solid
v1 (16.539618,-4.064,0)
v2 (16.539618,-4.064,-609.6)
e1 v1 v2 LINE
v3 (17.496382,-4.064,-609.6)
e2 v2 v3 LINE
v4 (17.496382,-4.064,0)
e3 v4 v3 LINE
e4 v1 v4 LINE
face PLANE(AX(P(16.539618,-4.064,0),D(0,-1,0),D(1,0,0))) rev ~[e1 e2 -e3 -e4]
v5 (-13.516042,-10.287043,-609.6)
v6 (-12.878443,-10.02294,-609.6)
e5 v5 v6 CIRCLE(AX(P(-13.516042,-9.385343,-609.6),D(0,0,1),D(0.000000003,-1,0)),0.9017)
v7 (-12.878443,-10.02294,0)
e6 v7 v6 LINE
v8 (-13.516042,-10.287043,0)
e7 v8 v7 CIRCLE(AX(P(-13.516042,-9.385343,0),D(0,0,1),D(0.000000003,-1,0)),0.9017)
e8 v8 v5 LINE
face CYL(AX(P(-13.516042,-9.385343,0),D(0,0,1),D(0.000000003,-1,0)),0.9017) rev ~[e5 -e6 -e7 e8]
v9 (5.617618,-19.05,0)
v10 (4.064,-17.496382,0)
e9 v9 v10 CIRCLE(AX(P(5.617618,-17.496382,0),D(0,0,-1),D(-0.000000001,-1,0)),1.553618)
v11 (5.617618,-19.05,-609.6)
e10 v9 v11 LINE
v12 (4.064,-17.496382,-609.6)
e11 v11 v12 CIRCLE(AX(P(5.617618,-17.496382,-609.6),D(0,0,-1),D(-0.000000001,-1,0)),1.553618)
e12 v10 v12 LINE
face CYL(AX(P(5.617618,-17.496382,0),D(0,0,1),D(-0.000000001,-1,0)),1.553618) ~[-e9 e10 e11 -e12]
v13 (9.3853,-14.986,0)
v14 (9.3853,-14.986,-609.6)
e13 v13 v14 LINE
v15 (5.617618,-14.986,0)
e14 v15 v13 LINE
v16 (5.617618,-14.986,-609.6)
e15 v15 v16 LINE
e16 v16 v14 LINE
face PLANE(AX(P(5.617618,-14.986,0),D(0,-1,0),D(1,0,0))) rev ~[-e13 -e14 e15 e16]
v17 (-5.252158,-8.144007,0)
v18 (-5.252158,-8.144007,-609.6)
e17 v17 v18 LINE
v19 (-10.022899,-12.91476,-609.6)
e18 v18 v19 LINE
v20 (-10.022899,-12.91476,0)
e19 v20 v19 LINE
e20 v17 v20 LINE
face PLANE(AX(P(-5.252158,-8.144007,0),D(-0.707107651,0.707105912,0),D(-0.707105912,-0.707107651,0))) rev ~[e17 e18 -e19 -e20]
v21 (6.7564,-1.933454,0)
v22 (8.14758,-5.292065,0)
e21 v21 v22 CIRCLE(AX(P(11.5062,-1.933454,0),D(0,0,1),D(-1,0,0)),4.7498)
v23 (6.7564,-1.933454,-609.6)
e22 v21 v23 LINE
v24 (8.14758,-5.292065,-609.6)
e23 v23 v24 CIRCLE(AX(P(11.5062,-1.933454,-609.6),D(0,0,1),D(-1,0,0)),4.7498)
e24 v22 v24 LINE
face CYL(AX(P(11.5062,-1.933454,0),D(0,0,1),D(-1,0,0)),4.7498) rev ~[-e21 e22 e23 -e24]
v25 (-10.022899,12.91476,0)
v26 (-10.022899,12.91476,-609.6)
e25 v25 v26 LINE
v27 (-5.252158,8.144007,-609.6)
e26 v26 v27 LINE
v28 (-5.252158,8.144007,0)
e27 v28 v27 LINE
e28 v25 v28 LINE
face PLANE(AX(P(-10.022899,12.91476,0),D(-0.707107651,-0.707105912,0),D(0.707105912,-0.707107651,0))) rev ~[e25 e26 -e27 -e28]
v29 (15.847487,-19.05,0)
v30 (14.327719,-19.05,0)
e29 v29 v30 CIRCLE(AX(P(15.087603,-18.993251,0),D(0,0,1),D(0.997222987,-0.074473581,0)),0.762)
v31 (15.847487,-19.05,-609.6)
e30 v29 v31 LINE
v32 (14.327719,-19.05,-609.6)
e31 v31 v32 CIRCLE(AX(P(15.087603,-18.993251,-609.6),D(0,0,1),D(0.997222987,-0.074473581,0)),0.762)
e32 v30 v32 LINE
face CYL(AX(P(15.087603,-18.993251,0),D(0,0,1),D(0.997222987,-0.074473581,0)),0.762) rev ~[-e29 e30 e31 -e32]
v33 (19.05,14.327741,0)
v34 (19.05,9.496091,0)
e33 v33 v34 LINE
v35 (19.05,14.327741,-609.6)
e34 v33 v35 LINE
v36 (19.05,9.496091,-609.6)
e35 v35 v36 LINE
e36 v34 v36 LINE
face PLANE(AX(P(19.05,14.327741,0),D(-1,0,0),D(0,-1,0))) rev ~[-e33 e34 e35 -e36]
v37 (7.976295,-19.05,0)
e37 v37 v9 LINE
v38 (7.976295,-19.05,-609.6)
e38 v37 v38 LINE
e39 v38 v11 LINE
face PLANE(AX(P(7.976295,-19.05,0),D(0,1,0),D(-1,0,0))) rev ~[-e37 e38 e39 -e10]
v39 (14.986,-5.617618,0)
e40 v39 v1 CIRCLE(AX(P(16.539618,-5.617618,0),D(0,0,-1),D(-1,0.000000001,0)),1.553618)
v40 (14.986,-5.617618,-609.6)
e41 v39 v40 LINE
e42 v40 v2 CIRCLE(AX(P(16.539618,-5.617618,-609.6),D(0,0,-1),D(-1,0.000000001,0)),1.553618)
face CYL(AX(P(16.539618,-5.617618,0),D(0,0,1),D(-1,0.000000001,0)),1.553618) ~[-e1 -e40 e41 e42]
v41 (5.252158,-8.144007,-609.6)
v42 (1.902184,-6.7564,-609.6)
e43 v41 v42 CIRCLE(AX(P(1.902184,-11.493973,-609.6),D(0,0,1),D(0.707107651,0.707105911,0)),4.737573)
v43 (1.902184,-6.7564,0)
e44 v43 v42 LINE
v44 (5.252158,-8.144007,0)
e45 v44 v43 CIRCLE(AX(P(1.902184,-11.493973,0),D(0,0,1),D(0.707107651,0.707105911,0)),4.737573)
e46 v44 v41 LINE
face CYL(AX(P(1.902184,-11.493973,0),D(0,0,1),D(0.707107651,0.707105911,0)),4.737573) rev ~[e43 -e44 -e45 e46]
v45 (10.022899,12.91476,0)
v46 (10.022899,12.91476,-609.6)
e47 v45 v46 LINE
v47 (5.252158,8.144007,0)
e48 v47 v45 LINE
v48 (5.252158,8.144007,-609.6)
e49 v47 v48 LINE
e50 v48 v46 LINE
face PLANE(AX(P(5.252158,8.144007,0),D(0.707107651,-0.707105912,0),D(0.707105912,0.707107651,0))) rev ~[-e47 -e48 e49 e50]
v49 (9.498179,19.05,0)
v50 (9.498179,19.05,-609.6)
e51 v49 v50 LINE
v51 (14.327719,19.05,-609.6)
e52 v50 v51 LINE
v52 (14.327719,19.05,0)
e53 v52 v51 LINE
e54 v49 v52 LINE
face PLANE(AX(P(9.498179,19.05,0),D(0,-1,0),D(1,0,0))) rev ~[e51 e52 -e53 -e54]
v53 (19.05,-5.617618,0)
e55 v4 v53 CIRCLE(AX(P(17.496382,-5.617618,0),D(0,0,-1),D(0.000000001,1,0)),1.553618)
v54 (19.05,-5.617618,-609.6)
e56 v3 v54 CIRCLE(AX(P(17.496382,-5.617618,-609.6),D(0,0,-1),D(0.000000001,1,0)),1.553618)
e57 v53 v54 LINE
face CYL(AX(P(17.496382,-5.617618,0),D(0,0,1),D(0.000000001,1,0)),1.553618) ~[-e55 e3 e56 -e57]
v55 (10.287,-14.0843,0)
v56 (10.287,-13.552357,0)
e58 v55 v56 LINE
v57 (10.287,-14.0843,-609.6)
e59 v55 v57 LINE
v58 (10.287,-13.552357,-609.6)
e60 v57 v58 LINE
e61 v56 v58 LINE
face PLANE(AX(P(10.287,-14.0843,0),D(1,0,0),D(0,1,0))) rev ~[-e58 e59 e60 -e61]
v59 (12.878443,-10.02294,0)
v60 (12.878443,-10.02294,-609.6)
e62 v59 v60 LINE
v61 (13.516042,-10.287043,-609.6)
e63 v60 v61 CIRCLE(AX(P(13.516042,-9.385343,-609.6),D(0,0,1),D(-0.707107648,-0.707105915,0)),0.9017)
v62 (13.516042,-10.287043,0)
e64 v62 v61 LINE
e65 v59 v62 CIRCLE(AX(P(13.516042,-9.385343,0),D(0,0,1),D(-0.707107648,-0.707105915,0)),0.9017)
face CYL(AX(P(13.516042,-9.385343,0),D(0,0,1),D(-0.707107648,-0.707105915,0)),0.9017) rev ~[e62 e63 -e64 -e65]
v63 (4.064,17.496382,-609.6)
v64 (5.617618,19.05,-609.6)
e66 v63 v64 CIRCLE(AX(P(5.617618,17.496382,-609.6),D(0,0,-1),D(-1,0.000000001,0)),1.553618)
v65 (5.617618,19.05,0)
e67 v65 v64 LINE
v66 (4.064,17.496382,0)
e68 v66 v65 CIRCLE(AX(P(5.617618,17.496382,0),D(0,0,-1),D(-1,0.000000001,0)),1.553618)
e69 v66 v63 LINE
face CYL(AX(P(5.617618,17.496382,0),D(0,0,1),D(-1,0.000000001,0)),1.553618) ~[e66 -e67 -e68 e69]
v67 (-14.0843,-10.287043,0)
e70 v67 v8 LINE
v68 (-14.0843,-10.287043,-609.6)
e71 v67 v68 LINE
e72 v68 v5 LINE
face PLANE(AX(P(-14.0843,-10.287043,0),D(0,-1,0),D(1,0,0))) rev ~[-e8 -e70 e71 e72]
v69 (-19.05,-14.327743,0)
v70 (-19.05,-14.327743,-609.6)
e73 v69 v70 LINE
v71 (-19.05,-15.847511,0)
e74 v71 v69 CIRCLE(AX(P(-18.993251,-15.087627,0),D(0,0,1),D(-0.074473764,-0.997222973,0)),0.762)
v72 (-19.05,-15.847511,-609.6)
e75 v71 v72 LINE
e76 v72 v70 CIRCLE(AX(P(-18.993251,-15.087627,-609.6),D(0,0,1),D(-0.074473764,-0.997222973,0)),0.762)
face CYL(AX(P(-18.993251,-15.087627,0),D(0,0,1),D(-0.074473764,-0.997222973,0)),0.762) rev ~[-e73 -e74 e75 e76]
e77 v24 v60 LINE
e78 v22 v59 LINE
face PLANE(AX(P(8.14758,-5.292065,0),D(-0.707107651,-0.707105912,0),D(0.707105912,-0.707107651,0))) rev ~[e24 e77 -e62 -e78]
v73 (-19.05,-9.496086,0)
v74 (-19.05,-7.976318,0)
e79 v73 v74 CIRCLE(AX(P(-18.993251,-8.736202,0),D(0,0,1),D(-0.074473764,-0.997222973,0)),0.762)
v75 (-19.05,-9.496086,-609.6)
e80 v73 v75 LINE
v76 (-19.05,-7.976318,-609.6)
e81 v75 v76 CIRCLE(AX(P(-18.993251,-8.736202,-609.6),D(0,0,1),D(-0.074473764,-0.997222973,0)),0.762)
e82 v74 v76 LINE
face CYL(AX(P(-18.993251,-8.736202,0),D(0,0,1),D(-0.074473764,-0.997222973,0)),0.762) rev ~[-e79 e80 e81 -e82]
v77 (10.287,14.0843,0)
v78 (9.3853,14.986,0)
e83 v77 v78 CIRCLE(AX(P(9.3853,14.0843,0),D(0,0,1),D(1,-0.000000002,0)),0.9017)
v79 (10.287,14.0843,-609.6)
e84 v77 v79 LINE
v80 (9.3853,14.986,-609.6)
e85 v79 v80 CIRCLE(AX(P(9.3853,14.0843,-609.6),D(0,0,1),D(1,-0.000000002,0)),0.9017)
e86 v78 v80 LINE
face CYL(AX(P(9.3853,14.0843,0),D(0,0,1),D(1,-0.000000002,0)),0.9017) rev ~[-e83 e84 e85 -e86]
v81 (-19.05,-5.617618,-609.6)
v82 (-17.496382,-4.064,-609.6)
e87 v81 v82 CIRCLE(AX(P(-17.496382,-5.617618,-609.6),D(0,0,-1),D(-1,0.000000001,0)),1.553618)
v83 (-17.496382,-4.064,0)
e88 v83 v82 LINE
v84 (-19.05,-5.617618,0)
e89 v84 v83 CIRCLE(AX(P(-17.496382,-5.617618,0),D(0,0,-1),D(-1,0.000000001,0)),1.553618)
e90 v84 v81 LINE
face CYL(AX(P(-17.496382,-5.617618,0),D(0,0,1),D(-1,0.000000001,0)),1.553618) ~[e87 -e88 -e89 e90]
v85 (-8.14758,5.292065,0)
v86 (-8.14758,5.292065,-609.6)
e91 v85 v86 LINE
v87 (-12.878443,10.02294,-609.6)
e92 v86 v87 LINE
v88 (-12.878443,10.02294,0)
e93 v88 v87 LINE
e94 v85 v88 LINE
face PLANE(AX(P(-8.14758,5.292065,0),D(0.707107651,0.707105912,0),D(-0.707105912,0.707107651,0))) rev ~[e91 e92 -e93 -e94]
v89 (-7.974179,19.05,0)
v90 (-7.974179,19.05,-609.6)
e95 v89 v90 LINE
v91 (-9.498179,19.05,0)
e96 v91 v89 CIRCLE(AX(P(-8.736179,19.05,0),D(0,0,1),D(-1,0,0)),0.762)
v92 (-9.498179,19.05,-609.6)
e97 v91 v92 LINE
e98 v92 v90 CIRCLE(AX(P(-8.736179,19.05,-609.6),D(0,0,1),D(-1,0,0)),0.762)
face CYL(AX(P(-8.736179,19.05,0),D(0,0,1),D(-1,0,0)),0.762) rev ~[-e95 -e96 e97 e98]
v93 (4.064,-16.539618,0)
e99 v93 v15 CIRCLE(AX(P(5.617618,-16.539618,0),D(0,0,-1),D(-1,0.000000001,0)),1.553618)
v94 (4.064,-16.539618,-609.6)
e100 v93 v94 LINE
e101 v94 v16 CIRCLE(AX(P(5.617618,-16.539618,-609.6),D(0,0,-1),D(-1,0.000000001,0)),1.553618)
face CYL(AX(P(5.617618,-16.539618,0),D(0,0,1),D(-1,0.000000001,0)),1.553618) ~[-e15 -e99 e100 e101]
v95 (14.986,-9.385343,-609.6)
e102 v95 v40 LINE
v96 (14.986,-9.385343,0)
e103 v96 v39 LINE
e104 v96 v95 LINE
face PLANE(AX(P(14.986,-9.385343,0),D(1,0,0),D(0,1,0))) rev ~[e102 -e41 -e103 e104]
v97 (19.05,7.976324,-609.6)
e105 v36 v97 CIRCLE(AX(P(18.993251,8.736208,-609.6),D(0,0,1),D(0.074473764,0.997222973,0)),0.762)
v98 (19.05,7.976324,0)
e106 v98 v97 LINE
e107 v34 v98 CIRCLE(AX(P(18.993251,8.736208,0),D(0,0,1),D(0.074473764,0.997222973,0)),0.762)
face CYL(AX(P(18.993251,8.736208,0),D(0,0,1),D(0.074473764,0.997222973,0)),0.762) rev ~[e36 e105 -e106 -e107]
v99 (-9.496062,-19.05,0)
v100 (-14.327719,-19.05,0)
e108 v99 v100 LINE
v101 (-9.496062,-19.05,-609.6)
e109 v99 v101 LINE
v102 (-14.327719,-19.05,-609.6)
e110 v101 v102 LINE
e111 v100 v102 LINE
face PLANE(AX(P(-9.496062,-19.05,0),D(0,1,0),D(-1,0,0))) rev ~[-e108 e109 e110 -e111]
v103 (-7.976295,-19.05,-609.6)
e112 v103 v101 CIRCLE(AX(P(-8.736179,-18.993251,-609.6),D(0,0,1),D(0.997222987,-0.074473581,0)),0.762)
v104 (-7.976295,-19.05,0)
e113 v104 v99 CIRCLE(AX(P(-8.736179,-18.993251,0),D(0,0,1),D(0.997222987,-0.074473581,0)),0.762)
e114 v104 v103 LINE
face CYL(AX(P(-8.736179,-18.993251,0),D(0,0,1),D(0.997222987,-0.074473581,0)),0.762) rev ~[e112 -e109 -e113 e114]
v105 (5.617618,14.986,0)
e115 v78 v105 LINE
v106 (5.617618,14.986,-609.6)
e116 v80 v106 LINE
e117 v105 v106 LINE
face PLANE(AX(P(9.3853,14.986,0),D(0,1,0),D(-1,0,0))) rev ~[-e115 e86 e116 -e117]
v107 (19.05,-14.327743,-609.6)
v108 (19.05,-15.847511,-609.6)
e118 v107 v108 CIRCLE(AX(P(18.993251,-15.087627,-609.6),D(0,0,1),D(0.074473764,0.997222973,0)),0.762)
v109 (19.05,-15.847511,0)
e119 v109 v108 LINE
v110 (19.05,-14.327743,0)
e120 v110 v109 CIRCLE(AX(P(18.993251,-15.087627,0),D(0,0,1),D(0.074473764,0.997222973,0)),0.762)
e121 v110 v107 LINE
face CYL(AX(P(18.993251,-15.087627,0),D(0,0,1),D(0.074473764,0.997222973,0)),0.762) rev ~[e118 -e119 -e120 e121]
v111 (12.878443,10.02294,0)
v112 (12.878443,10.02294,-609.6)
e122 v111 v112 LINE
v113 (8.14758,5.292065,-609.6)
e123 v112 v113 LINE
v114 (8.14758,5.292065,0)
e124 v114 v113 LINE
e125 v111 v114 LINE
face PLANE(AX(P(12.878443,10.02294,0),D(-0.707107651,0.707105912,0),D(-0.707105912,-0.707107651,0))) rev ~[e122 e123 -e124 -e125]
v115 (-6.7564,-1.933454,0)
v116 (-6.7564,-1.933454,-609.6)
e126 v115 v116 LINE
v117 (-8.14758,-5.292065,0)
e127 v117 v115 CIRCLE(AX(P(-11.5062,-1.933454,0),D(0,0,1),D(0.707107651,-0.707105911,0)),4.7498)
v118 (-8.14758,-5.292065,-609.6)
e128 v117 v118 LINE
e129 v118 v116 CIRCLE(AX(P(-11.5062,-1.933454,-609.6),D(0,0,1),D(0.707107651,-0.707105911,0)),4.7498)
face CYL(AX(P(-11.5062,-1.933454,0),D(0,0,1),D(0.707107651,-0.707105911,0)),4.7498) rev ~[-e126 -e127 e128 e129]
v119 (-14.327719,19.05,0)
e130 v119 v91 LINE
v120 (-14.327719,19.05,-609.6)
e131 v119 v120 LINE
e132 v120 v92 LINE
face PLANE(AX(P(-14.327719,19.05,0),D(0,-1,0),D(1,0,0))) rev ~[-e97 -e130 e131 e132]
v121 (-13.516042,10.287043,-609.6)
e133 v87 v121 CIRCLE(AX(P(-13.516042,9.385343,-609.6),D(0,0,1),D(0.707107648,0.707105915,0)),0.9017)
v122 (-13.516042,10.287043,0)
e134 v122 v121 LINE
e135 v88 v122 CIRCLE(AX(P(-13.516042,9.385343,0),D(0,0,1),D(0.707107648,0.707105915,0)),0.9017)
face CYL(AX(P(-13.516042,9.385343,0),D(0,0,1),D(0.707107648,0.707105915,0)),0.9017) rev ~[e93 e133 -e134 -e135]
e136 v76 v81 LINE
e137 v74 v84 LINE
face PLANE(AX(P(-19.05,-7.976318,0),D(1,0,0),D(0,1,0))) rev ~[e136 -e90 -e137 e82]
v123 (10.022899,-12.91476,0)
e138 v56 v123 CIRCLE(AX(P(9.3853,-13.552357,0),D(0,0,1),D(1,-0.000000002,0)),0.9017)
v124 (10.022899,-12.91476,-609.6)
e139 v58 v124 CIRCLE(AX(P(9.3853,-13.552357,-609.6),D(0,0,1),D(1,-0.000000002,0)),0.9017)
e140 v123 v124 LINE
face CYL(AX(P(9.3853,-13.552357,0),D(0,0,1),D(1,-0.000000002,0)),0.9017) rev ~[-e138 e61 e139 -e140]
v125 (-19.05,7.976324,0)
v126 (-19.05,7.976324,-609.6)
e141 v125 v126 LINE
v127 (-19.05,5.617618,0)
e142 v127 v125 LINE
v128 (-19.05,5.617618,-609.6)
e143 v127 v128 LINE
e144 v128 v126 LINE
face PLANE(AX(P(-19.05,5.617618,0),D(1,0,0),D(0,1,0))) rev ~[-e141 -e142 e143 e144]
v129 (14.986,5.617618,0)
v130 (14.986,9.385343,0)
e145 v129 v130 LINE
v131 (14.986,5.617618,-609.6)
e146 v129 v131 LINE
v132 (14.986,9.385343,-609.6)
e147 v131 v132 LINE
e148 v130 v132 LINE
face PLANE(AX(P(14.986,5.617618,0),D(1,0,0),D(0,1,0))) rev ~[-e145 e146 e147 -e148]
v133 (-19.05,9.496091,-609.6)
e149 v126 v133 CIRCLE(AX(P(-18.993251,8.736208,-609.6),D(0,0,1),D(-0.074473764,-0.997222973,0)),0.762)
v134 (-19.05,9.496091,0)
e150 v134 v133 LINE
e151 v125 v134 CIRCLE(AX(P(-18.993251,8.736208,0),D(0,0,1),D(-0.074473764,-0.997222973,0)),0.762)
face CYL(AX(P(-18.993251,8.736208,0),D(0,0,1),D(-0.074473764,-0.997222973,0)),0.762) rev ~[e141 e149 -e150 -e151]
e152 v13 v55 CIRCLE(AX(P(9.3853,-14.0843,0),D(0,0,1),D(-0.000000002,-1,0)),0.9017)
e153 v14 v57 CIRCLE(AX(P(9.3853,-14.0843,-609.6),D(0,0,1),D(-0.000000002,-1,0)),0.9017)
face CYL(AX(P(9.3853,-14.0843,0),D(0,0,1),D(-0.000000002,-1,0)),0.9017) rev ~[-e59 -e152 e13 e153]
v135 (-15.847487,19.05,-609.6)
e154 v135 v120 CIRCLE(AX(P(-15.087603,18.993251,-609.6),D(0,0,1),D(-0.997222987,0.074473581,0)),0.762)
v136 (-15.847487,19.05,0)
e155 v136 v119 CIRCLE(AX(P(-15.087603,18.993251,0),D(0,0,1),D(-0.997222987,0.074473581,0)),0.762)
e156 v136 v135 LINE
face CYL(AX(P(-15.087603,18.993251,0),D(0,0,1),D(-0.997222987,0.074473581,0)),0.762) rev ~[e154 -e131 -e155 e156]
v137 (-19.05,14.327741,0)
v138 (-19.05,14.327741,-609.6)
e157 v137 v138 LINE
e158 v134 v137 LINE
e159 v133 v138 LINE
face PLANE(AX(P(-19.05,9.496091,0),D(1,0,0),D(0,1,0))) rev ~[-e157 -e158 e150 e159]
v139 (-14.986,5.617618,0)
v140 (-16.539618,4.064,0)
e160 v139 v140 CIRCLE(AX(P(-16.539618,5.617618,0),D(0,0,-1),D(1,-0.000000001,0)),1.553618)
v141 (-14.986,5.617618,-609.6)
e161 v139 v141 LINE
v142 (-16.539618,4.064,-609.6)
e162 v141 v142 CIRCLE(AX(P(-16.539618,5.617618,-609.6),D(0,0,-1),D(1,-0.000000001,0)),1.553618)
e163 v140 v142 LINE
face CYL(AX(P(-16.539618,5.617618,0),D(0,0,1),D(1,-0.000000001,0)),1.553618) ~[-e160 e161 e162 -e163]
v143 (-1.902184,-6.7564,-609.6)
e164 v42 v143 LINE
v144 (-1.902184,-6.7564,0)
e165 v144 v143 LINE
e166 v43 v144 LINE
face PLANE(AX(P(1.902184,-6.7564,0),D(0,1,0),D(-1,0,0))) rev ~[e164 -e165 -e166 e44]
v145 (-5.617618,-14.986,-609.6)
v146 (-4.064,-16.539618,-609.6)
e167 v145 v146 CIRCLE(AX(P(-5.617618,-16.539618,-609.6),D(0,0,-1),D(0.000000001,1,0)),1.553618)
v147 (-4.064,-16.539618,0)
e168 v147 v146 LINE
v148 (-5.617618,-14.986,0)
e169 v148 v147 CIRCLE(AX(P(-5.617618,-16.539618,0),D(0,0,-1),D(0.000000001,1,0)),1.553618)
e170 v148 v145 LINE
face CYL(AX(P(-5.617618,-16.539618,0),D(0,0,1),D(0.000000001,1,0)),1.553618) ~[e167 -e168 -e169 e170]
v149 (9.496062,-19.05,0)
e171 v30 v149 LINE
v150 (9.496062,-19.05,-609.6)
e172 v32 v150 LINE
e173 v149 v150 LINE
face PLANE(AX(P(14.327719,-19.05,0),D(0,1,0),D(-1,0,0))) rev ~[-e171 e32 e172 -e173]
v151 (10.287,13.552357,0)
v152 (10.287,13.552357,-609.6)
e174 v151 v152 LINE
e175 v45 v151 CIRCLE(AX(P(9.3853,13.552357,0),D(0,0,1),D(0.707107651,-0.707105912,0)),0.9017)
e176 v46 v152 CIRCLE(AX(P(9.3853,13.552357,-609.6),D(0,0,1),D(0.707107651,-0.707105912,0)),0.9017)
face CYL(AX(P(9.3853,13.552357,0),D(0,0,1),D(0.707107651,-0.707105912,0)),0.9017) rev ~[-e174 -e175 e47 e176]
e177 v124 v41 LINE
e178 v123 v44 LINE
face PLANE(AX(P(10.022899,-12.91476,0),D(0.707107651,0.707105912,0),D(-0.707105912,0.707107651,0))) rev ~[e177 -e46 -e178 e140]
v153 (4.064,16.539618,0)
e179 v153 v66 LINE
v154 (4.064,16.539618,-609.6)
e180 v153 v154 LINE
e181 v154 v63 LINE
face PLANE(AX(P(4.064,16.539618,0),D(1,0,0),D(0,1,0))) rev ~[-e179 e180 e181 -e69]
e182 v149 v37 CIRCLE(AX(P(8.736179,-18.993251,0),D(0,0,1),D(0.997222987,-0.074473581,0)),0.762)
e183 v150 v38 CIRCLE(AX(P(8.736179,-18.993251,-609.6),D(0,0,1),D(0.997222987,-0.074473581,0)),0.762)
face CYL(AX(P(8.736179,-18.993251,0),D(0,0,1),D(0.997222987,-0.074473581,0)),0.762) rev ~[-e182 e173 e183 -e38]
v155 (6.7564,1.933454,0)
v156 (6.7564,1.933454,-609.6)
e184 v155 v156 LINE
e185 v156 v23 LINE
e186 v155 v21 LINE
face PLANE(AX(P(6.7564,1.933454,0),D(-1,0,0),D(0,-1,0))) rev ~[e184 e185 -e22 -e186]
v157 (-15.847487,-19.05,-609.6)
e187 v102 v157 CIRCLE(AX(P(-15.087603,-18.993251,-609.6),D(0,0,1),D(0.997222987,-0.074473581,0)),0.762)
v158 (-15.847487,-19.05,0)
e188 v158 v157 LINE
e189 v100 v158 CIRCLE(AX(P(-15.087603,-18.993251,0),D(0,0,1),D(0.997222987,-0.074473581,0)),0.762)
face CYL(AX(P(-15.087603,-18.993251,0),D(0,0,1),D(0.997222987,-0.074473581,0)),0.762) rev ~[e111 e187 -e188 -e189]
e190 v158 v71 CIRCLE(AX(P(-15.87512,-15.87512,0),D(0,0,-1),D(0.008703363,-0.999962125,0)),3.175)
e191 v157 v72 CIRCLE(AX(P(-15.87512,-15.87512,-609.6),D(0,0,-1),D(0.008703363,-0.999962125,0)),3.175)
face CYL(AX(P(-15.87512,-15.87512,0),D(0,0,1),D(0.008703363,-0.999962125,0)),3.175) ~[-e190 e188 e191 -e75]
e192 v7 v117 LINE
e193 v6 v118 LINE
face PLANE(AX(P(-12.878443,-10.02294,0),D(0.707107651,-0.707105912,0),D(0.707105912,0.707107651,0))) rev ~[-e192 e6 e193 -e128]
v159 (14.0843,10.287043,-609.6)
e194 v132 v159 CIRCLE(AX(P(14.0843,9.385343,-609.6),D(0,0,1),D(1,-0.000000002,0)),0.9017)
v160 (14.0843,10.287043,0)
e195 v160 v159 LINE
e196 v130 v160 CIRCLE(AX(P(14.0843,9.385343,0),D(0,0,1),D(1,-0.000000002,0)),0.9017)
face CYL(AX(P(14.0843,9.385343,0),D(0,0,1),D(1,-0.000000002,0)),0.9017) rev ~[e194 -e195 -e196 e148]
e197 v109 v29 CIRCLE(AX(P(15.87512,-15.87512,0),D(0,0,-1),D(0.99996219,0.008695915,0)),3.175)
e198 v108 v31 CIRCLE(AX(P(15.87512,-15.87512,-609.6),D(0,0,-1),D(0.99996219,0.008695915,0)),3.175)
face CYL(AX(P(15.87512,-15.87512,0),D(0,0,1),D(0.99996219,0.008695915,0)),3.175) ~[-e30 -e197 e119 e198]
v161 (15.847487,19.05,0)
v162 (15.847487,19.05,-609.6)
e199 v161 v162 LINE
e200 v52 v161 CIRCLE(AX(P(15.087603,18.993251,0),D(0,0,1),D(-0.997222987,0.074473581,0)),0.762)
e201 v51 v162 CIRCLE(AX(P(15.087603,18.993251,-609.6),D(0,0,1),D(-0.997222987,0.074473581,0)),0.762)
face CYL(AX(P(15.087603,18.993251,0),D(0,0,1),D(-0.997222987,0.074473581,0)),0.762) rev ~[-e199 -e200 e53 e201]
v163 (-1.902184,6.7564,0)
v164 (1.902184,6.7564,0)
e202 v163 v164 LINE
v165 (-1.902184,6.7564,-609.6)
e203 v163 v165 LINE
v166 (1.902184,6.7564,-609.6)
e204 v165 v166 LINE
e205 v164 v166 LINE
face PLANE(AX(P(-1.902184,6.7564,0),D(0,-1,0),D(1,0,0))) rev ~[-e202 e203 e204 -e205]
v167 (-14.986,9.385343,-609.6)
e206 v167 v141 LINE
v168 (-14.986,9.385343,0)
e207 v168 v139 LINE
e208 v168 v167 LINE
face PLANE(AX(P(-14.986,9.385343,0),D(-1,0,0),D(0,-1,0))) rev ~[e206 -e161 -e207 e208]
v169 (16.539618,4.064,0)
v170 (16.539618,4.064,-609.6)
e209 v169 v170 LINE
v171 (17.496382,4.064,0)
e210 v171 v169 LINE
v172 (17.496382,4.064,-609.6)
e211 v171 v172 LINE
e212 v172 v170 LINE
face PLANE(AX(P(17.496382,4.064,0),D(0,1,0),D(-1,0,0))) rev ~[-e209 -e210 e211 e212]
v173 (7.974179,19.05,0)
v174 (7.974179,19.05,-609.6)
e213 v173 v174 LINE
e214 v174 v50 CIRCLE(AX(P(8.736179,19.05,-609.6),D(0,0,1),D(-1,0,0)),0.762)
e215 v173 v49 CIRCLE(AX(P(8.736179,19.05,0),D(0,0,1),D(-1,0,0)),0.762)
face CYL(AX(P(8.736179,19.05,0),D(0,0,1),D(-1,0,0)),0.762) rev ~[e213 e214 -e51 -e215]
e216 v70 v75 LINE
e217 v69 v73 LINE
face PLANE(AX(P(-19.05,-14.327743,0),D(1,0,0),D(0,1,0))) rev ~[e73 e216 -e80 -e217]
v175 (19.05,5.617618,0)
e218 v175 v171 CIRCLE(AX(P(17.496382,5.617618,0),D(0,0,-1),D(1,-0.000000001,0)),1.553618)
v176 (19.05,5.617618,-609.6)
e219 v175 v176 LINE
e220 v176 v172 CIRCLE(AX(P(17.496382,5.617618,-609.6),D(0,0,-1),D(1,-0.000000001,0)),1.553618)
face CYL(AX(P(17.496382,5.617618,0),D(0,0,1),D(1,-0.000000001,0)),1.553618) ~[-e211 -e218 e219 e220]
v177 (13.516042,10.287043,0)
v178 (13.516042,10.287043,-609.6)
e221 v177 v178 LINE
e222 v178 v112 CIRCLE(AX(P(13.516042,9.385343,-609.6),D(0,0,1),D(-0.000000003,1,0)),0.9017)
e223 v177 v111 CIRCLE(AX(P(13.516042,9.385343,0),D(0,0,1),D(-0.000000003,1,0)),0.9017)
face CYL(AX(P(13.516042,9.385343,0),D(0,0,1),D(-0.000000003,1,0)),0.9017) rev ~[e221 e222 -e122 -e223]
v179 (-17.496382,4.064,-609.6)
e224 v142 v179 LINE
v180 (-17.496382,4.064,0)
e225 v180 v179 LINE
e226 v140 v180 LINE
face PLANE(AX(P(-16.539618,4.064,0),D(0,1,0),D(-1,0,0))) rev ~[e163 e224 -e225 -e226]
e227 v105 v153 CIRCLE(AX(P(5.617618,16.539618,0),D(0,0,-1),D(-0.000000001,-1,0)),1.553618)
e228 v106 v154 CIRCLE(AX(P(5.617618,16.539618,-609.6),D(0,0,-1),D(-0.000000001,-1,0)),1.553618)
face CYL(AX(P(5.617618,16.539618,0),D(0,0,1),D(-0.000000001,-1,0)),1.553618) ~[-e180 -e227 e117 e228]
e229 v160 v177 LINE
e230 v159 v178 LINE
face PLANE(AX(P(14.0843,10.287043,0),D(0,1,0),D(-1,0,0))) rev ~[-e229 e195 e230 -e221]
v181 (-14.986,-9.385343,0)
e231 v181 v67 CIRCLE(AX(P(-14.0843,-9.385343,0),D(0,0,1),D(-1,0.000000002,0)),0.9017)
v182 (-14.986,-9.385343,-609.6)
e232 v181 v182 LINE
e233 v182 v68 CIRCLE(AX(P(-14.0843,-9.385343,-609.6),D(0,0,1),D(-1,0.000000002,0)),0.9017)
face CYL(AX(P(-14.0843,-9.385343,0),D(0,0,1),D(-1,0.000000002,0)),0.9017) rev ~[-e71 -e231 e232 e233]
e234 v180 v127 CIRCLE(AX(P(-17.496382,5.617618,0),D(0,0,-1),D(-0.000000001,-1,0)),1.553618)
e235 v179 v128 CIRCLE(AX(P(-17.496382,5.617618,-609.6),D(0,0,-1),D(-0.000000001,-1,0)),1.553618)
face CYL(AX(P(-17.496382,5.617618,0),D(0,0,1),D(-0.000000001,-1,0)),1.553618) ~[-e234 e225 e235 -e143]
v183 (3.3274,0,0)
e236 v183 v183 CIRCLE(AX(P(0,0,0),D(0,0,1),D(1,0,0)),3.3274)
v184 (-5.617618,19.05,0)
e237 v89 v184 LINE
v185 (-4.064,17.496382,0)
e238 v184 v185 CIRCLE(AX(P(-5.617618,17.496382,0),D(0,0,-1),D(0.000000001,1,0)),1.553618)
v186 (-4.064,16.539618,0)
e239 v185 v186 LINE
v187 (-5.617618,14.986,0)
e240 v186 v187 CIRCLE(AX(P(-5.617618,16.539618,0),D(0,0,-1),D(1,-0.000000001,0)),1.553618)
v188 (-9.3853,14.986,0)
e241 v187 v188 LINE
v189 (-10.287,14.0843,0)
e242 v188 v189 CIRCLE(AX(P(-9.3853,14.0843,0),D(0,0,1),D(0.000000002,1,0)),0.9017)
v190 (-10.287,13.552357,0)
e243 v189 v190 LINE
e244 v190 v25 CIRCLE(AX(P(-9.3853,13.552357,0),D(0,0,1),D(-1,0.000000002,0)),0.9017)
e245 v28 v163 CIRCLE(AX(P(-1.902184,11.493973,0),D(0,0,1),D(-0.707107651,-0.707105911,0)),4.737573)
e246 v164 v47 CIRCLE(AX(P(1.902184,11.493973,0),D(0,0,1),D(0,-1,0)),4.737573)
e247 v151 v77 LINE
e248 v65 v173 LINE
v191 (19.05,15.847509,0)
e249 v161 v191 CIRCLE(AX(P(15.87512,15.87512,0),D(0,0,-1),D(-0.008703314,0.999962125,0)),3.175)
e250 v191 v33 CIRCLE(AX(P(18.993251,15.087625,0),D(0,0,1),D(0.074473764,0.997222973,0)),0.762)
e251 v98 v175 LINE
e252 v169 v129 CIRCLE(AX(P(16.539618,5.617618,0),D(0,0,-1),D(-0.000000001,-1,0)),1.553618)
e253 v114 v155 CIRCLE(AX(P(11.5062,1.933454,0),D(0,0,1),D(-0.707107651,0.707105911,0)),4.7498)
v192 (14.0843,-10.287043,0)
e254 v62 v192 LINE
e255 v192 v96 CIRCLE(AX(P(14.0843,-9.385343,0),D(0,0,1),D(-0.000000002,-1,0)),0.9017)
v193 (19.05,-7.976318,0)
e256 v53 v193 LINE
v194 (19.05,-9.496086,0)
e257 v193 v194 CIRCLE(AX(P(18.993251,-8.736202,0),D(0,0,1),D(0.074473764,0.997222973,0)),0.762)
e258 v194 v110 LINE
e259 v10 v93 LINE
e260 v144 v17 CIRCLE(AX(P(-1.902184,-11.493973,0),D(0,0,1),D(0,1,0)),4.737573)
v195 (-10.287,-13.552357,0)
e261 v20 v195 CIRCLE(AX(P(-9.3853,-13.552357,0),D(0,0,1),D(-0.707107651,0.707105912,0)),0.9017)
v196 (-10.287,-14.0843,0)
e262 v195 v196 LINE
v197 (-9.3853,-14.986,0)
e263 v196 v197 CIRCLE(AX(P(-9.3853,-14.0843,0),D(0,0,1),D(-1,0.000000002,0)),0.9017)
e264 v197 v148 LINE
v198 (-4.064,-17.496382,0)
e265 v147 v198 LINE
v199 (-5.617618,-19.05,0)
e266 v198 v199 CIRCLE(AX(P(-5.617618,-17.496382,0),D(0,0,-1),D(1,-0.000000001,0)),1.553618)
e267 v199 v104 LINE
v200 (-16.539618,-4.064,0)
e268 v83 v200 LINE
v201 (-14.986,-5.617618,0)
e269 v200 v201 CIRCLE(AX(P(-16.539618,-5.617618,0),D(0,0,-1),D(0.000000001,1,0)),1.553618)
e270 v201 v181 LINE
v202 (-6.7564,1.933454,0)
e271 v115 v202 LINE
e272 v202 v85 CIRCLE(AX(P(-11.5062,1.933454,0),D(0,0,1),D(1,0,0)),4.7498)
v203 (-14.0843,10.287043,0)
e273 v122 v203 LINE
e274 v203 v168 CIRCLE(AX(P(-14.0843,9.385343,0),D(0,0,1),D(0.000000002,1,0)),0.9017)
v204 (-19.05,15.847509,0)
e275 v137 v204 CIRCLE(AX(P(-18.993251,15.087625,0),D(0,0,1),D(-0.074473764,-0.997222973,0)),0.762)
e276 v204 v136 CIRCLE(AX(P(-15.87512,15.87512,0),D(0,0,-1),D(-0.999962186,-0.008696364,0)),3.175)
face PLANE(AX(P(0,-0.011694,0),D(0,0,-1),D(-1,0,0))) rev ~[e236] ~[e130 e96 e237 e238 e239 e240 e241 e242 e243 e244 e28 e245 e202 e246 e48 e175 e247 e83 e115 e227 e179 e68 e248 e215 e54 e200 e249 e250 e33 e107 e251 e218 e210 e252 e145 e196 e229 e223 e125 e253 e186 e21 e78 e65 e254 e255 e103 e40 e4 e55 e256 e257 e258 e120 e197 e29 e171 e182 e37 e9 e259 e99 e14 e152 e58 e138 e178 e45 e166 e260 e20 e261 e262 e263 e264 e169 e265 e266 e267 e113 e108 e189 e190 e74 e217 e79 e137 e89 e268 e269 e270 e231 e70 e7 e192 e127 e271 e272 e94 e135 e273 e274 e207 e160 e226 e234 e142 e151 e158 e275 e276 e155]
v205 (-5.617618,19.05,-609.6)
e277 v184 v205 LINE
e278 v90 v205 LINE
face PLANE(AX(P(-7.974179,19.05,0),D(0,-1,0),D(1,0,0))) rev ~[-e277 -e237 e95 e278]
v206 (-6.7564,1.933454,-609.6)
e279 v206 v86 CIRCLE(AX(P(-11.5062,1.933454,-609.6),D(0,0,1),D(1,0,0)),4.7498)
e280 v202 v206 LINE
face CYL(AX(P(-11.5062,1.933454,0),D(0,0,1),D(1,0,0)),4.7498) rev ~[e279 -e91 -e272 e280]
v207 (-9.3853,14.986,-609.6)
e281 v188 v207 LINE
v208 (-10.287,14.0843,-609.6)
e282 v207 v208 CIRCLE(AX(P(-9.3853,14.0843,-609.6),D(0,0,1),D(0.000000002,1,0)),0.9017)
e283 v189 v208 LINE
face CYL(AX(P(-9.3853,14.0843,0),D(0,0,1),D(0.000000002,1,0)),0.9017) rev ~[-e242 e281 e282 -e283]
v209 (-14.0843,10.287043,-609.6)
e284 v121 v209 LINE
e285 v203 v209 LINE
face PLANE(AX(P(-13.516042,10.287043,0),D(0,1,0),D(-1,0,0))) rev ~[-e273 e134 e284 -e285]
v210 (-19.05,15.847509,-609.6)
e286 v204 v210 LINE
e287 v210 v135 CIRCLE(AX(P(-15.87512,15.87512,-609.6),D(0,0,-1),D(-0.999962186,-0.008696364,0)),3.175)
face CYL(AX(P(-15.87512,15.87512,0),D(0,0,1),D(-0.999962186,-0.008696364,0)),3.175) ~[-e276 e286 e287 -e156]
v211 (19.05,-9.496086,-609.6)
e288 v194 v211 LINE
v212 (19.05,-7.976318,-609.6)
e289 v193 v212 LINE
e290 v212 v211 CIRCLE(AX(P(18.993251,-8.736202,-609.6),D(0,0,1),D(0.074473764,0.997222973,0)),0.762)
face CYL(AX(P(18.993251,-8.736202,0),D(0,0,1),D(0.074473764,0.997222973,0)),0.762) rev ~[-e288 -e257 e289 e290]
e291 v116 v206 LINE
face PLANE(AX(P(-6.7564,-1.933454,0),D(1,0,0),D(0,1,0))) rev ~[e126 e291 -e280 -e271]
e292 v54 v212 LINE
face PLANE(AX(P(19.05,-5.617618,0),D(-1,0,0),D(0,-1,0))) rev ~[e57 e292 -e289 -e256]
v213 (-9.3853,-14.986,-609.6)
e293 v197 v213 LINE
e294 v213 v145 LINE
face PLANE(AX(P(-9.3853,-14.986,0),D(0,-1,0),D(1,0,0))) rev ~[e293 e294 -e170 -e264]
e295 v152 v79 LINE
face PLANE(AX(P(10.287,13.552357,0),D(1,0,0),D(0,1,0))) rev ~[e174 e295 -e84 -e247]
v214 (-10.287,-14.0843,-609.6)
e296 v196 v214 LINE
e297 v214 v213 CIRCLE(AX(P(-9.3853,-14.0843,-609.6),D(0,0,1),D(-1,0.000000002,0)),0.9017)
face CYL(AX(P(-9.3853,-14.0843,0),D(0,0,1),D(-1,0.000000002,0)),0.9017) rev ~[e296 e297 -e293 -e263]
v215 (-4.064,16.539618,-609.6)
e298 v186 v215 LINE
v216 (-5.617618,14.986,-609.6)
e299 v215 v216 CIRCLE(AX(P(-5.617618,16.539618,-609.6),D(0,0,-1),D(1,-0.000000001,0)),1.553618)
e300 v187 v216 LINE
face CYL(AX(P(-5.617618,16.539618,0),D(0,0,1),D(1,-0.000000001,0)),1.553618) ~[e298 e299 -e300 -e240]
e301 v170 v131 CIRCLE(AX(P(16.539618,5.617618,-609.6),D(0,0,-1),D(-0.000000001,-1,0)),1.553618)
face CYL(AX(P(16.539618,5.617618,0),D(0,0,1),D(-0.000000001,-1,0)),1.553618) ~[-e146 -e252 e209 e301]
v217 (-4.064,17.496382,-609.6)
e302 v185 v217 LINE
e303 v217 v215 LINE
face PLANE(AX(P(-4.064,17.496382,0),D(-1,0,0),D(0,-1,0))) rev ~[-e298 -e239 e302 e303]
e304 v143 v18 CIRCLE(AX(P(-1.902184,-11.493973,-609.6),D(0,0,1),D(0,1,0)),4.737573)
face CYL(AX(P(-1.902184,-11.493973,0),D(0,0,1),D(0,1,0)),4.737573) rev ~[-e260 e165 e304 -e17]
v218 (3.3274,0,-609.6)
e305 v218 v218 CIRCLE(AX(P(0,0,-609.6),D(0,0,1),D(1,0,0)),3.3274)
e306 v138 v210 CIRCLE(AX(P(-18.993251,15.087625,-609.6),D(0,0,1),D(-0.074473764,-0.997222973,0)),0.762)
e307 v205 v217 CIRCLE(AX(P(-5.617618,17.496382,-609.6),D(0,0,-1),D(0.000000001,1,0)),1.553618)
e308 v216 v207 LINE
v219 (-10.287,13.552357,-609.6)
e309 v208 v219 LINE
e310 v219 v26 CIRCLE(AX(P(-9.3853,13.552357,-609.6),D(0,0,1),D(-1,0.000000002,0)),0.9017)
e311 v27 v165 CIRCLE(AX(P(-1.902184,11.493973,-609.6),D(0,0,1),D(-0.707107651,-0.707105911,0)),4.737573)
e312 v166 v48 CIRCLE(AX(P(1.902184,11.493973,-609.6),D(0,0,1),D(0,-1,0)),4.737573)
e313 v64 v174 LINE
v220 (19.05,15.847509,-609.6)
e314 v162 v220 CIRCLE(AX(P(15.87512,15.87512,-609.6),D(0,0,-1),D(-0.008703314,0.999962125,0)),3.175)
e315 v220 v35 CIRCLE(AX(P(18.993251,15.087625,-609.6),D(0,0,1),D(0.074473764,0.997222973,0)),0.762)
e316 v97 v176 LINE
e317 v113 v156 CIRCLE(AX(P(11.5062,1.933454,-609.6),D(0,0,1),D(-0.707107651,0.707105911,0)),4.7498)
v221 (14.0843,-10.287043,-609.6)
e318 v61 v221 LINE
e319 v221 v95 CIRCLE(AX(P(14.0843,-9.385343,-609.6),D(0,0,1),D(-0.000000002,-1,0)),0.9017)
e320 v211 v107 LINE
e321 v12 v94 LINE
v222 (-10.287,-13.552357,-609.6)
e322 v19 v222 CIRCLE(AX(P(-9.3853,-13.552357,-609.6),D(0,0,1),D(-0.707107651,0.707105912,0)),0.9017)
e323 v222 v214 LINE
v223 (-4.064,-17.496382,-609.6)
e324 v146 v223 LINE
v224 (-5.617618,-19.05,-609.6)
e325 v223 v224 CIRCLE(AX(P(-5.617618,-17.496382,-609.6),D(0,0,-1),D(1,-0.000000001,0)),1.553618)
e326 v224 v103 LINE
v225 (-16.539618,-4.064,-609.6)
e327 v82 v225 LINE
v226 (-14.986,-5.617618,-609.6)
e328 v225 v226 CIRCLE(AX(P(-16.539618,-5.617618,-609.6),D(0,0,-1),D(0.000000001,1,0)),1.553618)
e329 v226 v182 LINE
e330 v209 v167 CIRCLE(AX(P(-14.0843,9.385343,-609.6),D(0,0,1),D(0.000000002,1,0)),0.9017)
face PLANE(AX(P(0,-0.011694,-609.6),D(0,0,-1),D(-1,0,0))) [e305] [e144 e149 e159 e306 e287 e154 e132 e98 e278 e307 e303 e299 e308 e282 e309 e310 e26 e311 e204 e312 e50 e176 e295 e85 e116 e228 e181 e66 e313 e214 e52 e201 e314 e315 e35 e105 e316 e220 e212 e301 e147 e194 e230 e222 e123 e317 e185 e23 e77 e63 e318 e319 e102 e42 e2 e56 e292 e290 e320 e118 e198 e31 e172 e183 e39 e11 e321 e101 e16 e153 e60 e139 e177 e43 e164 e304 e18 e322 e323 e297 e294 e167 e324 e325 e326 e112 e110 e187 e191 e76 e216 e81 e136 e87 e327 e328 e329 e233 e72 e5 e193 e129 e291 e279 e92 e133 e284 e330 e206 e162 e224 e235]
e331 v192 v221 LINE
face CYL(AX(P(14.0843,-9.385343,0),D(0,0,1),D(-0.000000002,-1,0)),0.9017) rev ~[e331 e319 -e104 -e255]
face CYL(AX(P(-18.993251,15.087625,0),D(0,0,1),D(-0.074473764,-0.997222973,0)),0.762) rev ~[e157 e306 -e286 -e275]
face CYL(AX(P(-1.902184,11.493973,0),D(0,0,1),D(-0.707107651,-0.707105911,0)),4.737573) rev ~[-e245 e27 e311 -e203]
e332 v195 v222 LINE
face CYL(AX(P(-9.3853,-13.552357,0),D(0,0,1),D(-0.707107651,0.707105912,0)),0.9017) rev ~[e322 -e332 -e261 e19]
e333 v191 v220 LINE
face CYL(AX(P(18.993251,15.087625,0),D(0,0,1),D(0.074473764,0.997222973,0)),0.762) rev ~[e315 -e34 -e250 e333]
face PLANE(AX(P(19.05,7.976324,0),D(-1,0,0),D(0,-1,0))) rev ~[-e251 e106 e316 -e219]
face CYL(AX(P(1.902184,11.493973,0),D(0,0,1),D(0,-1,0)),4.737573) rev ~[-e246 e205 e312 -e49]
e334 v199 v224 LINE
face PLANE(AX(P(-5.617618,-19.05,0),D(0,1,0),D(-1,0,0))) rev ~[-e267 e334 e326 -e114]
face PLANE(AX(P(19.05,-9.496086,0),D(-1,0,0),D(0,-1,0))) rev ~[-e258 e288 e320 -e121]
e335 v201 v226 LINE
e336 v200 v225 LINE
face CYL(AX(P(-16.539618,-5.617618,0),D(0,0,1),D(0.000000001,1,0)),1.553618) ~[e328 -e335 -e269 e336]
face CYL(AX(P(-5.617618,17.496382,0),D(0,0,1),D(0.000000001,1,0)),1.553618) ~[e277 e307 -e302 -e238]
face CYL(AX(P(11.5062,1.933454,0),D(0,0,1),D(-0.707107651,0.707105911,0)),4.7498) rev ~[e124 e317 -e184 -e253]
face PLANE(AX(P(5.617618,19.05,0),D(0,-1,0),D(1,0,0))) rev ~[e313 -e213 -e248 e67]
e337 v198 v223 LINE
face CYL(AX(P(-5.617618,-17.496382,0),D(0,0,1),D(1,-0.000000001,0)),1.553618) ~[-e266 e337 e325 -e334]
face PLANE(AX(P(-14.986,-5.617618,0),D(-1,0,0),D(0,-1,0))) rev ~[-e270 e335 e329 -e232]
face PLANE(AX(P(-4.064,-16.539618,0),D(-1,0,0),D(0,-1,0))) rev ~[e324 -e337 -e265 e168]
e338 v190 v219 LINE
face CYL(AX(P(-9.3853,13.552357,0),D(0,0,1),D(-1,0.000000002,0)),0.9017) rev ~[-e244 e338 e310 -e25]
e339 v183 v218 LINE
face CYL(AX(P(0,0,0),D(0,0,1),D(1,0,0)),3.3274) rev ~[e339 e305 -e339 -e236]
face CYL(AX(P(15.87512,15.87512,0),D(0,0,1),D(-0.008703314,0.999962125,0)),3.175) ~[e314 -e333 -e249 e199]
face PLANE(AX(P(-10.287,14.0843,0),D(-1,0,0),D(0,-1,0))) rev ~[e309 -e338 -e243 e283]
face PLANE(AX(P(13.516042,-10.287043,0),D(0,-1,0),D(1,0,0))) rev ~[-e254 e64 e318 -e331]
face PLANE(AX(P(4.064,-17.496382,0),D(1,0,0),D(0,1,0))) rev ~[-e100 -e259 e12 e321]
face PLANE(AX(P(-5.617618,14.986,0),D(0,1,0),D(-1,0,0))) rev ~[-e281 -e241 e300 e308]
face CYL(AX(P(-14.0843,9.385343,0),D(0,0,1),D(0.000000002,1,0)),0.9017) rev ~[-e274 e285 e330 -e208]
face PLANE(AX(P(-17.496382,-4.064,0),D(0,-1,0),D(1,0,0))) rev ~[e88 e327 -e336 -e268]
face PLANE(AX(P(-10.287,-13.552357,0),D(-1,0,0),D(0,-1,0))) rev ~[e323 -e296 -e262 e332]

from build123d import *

# Parameters (mm, degrees)
SKETCH1_R      = 3.3274
EXTRUDE1_DEPTH = 609.6


with BuildPart() as part:
    # Sketch1 → Extrude1 (new body)
    with BuildSketch(Plane.XY):
        with BuildLine():
            Line((-10.022898969, 12.91475973), (-5.252158105, 8.144007132))
            ThreePointArc((-5.252158105, 8.144007132), (-3.715177372, 7.117027388), (-1.902183975, 6.7564))
            Line((-1.902183975, 6.7564), (1.902183975, 6.7564))
            ThreePointArc((1.902183975, 6.7564), (3.715177372, 7.117027388), (5.252158105, 8.144007132))
            Line((5.252158105, 8.144007132), (10.022898969, 12.91475973))
            ThreePointArc((10.022898969, 12.91475973), (10.218362387, 13.207291992), (10.287, 13.552357131))
            Line((10.287, 13.552357131), (10.287, 14.0843))
            ThreePointArc((10.287, 14.0843), (10.022898185, 14.721898185), (9.3853, 14.986))
            Line((9.3853, 14.986), (5.617617549, 14.986))
            ThreePointArc((5.617617549, 14.986), (4.519044045, 15.441044045), (4.064, 16.539617549))
            Line((4.064, 16.539617549), (4.064, 17.496382451))
            ThreePointArc((4.064, 17.496382451), (4.519044045, 18.594955955), (5.617617549, 19.05))
            Line((5.617617549, 19.05), (7.974178704, 19.05))
            ThreePointArc((7.974178704, 19.05), (8.736178704, 18.288), (9.498178704, 19.05))
            Line((9.498178704, 19.05), (14.327719207, 19.05))
            ThreePointArc((14.327719207, 19.05), (15.087603123, 18.231251131), (15.847487039, 19.05))
            ThreePointArc((15.847487039, 19.05), (18.120176289, 18.120192083), (19.05, 15.847509295))
            ThreePointArc((19.05, 15.847509295), (18.231250992, 15.08762539), (19.05, 14.327741484))
            Line((19.05, 14.327741484), (19.05, 9.496091471))
            ThreePointArc((19.05, 9.496091471), (18.231250992, 8.736207565), (19.05, 7.97632366))
            Line((19.05, 7.97632366), (19.05, 5.617617549))
            ThreePointArc((19.05, 5.617617549), (18.594955955, 4.519044045), (17.496382451, 4.064))
            Line((17.496382451, 4.064), (16.539617549, 4.064))
            ThreePointArc((16.539617549, 4.064), (15.441044045, 4.519044045), (14.986, 5.617617549))
            Line((14.986, 5.617617549), (14.986, 9.385342516))
            ThreePointArc((14.986, 9.385342516), (14.721898185, 10.022940701), (14.0843, 10.287042516))
            Line((14.0843, 10.287042516), (13.516042086, 10.287042516))
            ThreePointArc((13.516042086, 10.287042516), (13.170975923, 10.218404478), (12.878443117, 10.022939917))
            Line((12.878443117, 10.022939917), (8.14758008, 5.292065243))
            ThreePointArc((8.14758008, 5.292065243), (7.117955879, 3.751120653), (6.7564, 1.933453584))
            Line((6.7564, 1.933453584), (6.7564, -1.933453584))
            ThreePointArc((6.7564, -1.933453584), (7.117955879, -3.751120653), (8.14758008, -5.292065243))
            Line((8.14758008, -5.292065243), (12.878443117, -10.022939917))
            ThreePointArc((12.878443117, -10.022939917), (13.170975923, -10.218404478), (13.516042086, -10.287042516))
            Line((13.516042086, -10.287042516), (14.0843, -10.287042516))
            ThreePointArc((14.0843, -10.287042516), (14.721898185, -10.022940701), (14.986, -9.385342516))
            Line((14.986, -9.385342516), (14.986, -5.617617549))
            ThreePointArc((14.986, -5.617617549), (15.441044045, -4.519044045), (16.539617549, -4.064))
            Line((16.539617549, -4.064), (17.496382451, -4.064))
            ThreePointArc((17.496382451, -4.064), (18.594955955, -4.519044045), (19.05, -5.617617549))
            Line((19.05, -5.617617549), (19.05, -7.976318491))
            ThreePointArc((19.05, -7.976318491), (18.231250992, -8.736202396), (19.05, -9.496086302))
            Line((19.05, -9.496086302), (19.05, -14.32774291))
            ThreePointArc((19.05, -14.32774291), (18.231250992, -15.087626816), (19.05, -15.847510721))
            ThreePointArc((19.05, -15.847510721), (18.120175716, -18.120192644), (15.847486868, -19.05))
            ThreePointArc((15.847486868, -19.05), (15.087602952, -18.231251131), (14.327719036, -19.05))
            Line((14.327719036, -19.05), (9.496062448, -19.05))
            ThreePointArc((9.496062448, -19.05), (8.736178532, -18.231251131), (7.976294616, -19.05))
            Line((7.976294616, -19.05), (5.617617549, -19.05))
            ThreePointArc((5.617617549, -19.05), (4.519044045, -18.594955955), (4.064, -17.496382451))
            Line((4.064, -17.496382451), (4.064, -16.539617549))
            ThreePointArc((4.064, -16.539617549), (4.519044045, -15.441044045), (5.617617549, -14.986))
            Line((5.617617549, -14.986), (9.3853, -14.986))
            ThreePointArc((9.3853, -14.986), (10.022898185, -14.721898185), (10.287, -14.0843))
            Line((10.287, -14.0843), (10.287, -13.552357131))
            ThreePointArc((10.287, -13.552357131), (10.218362387, -13.207291992), (10.022898969, -12.91475973))
            Line((10.022898969, -12.91475973), (5.252158105, -8.144007132))
            ThreePointArc((5.252158105, -8.144007132), (3.715177372, -7.117027388), (1.902183975, -6.7564))
            Line((1.902183975, -6.7564), (-1.902183975, -6.7564))
            ThreePointArc((-1.902183975, -6.7564), (-3.715177372, -7.117027388), (-5.252158105, -8.144007132))
            Line((-5.252158105, -8.144007132), (-10.022898969, -12.91475973))
            ThreePointArc((-10.022898969, -12.91475973), (-10.218362387, -13.207291992), (-10.287, -13.552357131))
            Line((-10.287, -13.552357131), (-10.287, -14.0843))
            ThreePointArc((-10.287, -14.0843), (-10.022898185, -14.721898185), (-9.3853, -14.986))
            Line((-9.3853, -14.986), (-5.617617549, -14.986))
            ThreePointArc((-5.617617549, -14.986), (-4.519044045, -15.441044045), (-4.064, -16.539617549))
            Line((-4.064, -16.539617549), (-4.064, -17.496382451))
            ThreePointArc((-4.064, -17.496382451), (-4.519044045, -18.594955955), (-5.617617549, -19.05))
            Line((-5.617617549, -19.05), (-7.976294616, -19.05))
            ThreePointArc((-7.976294616, -19.05), (-8.736178532, -18.231251131), (-9.496062448, -19.05))
            Line((-9.496062448, -19.05), (-14.327719036, -19.05))
            ThreePointArc((-14.327719036, -19.05), (-15.087602952, -18.231251131), (-15.847486868, -19.05))
            ThreePointArc((-15.847486868, -19.05), (-18.120175716, -18.120192644), (-19.05, -15.847510721))
            ThreePointArc((-19.05, -15.847510721), (-18.231250992, -15.087626816), (-19.05, -14.32774291))
            Line((-19.05, -14.32774291), (-19.05, -9.496086302))
            ThreePointArc((-19.05, -9.496086302), (-18.231250992, -8.736202396), (-19.05, -7.976318491))
            Line((-19.05, -7.976318491), (-19.05, -5.617617549))
            ThreePointArc((-19.05, -5.617617549), (-18.594955955, -4.519044045), (-17.496382451, -4.064))
            Line((-17.496382451, -4.064), (-16.539617549, -4.064))
            ThreePointArc((-16.539617549, -4.064), (-15.441044045, -4.519044045), (-14.986, -5.617617549))
            Line((-14.986, -5.617617549), (-14.986, -9.385342516))
            ThreePointArc((-14.986, -9.385342516), (-14.721898185, -10.022940701), (-14.0843, -10.287042516))
            Line((-14.0843, -10.287042516), (-13.516042086, -10.287042516))
            ThreePointArc((-13.516042086, -10.287042516), (-13.170975923, -10.218404478), (-12.878443117, -10.022939917))
            Line((-12.878443117, -10.022939917), (-8.14758008, -5.292065243))
            ThreePointArc((-8.14758008, -5.292065243), (-7.117955879, -3.751120653), (-6.7564, -1.933453584))
            Line((-6.7564, -1.933453584), (-6.7564, 1.933453584))
            ThreePointArc((-6.7564, 1.933453584), (-7.117955879, 3.751120653), (-8.14758008, 5.292065243))
            Line((-8.14758008, 5.292065243), (-12.878443117, 10.022939917))
            ThreePointArc((-12.878443117, 10.022939917), (-13.170975923, 10.218404478), (-13.516042086, 10.287042516))
            Line((-13.516042086, 10.287042516), (-14.0843, 10.287042516))
            ThreePointArc((-14.0843, 10.287042516), (-14.721898185, 10.022940701), (-14.986, 9.385342516))
            Line((-14.986, 9.385342516), (-14.986, 5.617617549))
            ThreePointArc((-14.986, 5.617617549), (-15.441044045, 4.519044045), (-16.539617549, 4.064))
            Line((-16.539617549, 4.064), (-17.496382451, 4.064))
            ThreePointArc((-17.496382451, 4.064), (-18.594955955, 4.519044045), (-19.05, 5.617617549))
            Line((-19.05, 5.617617549), (-19.05, 7.97632366))
            ThreePointArc((-19.05, 7.97632366), (-18.231250992, 8.736207565), (-19.05, 9.496091471))
            Line((-19.05, 9.496091471), (-19.05, 14.327741484))
            ThreePointArc((-19.05, 14.327741484), (-18.231250992, 15.08762539), (-19.05, 15.847509295))
            ThreePointArc((-19.05, 15.847509295), (-18.120176289, 18.120192083), (-15.847487039, 19.05))
            ThreePointArc((-15.847487039, 19.05), (-15.087603123, 18.231251131), (-14.327719207, 19.05))
            Line((-14.327719207, 19.05), (-9.498178704, 19.05))
            ThreePointArc((-9.498178704, 19.05), (-8.736178704, 18.288), (-7.974178704, 19.05))
            Line((-7.974178704, 19.05), (-5.617617549, 19.05))
            ThreePointArc((-5.617617549, 19.05), (-4.519044045, 18.594955955), (-4.064, 17.496382451))
            Line((-4.064, 17.496382451), (-4.064, 16.539617549))
            ThreePointArc((-4.064, 16.539617549), (-4.519044045, 15.441044045), (-5.617617549, 14.986))
            Line((-5.617617549, 14.986), (-9.3853, 14.986))
            ThreePointArc((-9.3853, 14.986), (-10.022898185, 14.721898185), (-10.287, 14.0843))
            Line((-10.287, 14.0843), (-10.287, 13.552357131))
            ThreePointArc((-10.287, 13.552357131), (-10.218362387, 13.207291992), (-10.022898969, 12.91475973))
        make_face()
        Circle(SKETCH1_R, mode=Mode.SUBTRACT)
    extrude(amount=-EXTRUDE1_DEPTH)


solid = part.part
